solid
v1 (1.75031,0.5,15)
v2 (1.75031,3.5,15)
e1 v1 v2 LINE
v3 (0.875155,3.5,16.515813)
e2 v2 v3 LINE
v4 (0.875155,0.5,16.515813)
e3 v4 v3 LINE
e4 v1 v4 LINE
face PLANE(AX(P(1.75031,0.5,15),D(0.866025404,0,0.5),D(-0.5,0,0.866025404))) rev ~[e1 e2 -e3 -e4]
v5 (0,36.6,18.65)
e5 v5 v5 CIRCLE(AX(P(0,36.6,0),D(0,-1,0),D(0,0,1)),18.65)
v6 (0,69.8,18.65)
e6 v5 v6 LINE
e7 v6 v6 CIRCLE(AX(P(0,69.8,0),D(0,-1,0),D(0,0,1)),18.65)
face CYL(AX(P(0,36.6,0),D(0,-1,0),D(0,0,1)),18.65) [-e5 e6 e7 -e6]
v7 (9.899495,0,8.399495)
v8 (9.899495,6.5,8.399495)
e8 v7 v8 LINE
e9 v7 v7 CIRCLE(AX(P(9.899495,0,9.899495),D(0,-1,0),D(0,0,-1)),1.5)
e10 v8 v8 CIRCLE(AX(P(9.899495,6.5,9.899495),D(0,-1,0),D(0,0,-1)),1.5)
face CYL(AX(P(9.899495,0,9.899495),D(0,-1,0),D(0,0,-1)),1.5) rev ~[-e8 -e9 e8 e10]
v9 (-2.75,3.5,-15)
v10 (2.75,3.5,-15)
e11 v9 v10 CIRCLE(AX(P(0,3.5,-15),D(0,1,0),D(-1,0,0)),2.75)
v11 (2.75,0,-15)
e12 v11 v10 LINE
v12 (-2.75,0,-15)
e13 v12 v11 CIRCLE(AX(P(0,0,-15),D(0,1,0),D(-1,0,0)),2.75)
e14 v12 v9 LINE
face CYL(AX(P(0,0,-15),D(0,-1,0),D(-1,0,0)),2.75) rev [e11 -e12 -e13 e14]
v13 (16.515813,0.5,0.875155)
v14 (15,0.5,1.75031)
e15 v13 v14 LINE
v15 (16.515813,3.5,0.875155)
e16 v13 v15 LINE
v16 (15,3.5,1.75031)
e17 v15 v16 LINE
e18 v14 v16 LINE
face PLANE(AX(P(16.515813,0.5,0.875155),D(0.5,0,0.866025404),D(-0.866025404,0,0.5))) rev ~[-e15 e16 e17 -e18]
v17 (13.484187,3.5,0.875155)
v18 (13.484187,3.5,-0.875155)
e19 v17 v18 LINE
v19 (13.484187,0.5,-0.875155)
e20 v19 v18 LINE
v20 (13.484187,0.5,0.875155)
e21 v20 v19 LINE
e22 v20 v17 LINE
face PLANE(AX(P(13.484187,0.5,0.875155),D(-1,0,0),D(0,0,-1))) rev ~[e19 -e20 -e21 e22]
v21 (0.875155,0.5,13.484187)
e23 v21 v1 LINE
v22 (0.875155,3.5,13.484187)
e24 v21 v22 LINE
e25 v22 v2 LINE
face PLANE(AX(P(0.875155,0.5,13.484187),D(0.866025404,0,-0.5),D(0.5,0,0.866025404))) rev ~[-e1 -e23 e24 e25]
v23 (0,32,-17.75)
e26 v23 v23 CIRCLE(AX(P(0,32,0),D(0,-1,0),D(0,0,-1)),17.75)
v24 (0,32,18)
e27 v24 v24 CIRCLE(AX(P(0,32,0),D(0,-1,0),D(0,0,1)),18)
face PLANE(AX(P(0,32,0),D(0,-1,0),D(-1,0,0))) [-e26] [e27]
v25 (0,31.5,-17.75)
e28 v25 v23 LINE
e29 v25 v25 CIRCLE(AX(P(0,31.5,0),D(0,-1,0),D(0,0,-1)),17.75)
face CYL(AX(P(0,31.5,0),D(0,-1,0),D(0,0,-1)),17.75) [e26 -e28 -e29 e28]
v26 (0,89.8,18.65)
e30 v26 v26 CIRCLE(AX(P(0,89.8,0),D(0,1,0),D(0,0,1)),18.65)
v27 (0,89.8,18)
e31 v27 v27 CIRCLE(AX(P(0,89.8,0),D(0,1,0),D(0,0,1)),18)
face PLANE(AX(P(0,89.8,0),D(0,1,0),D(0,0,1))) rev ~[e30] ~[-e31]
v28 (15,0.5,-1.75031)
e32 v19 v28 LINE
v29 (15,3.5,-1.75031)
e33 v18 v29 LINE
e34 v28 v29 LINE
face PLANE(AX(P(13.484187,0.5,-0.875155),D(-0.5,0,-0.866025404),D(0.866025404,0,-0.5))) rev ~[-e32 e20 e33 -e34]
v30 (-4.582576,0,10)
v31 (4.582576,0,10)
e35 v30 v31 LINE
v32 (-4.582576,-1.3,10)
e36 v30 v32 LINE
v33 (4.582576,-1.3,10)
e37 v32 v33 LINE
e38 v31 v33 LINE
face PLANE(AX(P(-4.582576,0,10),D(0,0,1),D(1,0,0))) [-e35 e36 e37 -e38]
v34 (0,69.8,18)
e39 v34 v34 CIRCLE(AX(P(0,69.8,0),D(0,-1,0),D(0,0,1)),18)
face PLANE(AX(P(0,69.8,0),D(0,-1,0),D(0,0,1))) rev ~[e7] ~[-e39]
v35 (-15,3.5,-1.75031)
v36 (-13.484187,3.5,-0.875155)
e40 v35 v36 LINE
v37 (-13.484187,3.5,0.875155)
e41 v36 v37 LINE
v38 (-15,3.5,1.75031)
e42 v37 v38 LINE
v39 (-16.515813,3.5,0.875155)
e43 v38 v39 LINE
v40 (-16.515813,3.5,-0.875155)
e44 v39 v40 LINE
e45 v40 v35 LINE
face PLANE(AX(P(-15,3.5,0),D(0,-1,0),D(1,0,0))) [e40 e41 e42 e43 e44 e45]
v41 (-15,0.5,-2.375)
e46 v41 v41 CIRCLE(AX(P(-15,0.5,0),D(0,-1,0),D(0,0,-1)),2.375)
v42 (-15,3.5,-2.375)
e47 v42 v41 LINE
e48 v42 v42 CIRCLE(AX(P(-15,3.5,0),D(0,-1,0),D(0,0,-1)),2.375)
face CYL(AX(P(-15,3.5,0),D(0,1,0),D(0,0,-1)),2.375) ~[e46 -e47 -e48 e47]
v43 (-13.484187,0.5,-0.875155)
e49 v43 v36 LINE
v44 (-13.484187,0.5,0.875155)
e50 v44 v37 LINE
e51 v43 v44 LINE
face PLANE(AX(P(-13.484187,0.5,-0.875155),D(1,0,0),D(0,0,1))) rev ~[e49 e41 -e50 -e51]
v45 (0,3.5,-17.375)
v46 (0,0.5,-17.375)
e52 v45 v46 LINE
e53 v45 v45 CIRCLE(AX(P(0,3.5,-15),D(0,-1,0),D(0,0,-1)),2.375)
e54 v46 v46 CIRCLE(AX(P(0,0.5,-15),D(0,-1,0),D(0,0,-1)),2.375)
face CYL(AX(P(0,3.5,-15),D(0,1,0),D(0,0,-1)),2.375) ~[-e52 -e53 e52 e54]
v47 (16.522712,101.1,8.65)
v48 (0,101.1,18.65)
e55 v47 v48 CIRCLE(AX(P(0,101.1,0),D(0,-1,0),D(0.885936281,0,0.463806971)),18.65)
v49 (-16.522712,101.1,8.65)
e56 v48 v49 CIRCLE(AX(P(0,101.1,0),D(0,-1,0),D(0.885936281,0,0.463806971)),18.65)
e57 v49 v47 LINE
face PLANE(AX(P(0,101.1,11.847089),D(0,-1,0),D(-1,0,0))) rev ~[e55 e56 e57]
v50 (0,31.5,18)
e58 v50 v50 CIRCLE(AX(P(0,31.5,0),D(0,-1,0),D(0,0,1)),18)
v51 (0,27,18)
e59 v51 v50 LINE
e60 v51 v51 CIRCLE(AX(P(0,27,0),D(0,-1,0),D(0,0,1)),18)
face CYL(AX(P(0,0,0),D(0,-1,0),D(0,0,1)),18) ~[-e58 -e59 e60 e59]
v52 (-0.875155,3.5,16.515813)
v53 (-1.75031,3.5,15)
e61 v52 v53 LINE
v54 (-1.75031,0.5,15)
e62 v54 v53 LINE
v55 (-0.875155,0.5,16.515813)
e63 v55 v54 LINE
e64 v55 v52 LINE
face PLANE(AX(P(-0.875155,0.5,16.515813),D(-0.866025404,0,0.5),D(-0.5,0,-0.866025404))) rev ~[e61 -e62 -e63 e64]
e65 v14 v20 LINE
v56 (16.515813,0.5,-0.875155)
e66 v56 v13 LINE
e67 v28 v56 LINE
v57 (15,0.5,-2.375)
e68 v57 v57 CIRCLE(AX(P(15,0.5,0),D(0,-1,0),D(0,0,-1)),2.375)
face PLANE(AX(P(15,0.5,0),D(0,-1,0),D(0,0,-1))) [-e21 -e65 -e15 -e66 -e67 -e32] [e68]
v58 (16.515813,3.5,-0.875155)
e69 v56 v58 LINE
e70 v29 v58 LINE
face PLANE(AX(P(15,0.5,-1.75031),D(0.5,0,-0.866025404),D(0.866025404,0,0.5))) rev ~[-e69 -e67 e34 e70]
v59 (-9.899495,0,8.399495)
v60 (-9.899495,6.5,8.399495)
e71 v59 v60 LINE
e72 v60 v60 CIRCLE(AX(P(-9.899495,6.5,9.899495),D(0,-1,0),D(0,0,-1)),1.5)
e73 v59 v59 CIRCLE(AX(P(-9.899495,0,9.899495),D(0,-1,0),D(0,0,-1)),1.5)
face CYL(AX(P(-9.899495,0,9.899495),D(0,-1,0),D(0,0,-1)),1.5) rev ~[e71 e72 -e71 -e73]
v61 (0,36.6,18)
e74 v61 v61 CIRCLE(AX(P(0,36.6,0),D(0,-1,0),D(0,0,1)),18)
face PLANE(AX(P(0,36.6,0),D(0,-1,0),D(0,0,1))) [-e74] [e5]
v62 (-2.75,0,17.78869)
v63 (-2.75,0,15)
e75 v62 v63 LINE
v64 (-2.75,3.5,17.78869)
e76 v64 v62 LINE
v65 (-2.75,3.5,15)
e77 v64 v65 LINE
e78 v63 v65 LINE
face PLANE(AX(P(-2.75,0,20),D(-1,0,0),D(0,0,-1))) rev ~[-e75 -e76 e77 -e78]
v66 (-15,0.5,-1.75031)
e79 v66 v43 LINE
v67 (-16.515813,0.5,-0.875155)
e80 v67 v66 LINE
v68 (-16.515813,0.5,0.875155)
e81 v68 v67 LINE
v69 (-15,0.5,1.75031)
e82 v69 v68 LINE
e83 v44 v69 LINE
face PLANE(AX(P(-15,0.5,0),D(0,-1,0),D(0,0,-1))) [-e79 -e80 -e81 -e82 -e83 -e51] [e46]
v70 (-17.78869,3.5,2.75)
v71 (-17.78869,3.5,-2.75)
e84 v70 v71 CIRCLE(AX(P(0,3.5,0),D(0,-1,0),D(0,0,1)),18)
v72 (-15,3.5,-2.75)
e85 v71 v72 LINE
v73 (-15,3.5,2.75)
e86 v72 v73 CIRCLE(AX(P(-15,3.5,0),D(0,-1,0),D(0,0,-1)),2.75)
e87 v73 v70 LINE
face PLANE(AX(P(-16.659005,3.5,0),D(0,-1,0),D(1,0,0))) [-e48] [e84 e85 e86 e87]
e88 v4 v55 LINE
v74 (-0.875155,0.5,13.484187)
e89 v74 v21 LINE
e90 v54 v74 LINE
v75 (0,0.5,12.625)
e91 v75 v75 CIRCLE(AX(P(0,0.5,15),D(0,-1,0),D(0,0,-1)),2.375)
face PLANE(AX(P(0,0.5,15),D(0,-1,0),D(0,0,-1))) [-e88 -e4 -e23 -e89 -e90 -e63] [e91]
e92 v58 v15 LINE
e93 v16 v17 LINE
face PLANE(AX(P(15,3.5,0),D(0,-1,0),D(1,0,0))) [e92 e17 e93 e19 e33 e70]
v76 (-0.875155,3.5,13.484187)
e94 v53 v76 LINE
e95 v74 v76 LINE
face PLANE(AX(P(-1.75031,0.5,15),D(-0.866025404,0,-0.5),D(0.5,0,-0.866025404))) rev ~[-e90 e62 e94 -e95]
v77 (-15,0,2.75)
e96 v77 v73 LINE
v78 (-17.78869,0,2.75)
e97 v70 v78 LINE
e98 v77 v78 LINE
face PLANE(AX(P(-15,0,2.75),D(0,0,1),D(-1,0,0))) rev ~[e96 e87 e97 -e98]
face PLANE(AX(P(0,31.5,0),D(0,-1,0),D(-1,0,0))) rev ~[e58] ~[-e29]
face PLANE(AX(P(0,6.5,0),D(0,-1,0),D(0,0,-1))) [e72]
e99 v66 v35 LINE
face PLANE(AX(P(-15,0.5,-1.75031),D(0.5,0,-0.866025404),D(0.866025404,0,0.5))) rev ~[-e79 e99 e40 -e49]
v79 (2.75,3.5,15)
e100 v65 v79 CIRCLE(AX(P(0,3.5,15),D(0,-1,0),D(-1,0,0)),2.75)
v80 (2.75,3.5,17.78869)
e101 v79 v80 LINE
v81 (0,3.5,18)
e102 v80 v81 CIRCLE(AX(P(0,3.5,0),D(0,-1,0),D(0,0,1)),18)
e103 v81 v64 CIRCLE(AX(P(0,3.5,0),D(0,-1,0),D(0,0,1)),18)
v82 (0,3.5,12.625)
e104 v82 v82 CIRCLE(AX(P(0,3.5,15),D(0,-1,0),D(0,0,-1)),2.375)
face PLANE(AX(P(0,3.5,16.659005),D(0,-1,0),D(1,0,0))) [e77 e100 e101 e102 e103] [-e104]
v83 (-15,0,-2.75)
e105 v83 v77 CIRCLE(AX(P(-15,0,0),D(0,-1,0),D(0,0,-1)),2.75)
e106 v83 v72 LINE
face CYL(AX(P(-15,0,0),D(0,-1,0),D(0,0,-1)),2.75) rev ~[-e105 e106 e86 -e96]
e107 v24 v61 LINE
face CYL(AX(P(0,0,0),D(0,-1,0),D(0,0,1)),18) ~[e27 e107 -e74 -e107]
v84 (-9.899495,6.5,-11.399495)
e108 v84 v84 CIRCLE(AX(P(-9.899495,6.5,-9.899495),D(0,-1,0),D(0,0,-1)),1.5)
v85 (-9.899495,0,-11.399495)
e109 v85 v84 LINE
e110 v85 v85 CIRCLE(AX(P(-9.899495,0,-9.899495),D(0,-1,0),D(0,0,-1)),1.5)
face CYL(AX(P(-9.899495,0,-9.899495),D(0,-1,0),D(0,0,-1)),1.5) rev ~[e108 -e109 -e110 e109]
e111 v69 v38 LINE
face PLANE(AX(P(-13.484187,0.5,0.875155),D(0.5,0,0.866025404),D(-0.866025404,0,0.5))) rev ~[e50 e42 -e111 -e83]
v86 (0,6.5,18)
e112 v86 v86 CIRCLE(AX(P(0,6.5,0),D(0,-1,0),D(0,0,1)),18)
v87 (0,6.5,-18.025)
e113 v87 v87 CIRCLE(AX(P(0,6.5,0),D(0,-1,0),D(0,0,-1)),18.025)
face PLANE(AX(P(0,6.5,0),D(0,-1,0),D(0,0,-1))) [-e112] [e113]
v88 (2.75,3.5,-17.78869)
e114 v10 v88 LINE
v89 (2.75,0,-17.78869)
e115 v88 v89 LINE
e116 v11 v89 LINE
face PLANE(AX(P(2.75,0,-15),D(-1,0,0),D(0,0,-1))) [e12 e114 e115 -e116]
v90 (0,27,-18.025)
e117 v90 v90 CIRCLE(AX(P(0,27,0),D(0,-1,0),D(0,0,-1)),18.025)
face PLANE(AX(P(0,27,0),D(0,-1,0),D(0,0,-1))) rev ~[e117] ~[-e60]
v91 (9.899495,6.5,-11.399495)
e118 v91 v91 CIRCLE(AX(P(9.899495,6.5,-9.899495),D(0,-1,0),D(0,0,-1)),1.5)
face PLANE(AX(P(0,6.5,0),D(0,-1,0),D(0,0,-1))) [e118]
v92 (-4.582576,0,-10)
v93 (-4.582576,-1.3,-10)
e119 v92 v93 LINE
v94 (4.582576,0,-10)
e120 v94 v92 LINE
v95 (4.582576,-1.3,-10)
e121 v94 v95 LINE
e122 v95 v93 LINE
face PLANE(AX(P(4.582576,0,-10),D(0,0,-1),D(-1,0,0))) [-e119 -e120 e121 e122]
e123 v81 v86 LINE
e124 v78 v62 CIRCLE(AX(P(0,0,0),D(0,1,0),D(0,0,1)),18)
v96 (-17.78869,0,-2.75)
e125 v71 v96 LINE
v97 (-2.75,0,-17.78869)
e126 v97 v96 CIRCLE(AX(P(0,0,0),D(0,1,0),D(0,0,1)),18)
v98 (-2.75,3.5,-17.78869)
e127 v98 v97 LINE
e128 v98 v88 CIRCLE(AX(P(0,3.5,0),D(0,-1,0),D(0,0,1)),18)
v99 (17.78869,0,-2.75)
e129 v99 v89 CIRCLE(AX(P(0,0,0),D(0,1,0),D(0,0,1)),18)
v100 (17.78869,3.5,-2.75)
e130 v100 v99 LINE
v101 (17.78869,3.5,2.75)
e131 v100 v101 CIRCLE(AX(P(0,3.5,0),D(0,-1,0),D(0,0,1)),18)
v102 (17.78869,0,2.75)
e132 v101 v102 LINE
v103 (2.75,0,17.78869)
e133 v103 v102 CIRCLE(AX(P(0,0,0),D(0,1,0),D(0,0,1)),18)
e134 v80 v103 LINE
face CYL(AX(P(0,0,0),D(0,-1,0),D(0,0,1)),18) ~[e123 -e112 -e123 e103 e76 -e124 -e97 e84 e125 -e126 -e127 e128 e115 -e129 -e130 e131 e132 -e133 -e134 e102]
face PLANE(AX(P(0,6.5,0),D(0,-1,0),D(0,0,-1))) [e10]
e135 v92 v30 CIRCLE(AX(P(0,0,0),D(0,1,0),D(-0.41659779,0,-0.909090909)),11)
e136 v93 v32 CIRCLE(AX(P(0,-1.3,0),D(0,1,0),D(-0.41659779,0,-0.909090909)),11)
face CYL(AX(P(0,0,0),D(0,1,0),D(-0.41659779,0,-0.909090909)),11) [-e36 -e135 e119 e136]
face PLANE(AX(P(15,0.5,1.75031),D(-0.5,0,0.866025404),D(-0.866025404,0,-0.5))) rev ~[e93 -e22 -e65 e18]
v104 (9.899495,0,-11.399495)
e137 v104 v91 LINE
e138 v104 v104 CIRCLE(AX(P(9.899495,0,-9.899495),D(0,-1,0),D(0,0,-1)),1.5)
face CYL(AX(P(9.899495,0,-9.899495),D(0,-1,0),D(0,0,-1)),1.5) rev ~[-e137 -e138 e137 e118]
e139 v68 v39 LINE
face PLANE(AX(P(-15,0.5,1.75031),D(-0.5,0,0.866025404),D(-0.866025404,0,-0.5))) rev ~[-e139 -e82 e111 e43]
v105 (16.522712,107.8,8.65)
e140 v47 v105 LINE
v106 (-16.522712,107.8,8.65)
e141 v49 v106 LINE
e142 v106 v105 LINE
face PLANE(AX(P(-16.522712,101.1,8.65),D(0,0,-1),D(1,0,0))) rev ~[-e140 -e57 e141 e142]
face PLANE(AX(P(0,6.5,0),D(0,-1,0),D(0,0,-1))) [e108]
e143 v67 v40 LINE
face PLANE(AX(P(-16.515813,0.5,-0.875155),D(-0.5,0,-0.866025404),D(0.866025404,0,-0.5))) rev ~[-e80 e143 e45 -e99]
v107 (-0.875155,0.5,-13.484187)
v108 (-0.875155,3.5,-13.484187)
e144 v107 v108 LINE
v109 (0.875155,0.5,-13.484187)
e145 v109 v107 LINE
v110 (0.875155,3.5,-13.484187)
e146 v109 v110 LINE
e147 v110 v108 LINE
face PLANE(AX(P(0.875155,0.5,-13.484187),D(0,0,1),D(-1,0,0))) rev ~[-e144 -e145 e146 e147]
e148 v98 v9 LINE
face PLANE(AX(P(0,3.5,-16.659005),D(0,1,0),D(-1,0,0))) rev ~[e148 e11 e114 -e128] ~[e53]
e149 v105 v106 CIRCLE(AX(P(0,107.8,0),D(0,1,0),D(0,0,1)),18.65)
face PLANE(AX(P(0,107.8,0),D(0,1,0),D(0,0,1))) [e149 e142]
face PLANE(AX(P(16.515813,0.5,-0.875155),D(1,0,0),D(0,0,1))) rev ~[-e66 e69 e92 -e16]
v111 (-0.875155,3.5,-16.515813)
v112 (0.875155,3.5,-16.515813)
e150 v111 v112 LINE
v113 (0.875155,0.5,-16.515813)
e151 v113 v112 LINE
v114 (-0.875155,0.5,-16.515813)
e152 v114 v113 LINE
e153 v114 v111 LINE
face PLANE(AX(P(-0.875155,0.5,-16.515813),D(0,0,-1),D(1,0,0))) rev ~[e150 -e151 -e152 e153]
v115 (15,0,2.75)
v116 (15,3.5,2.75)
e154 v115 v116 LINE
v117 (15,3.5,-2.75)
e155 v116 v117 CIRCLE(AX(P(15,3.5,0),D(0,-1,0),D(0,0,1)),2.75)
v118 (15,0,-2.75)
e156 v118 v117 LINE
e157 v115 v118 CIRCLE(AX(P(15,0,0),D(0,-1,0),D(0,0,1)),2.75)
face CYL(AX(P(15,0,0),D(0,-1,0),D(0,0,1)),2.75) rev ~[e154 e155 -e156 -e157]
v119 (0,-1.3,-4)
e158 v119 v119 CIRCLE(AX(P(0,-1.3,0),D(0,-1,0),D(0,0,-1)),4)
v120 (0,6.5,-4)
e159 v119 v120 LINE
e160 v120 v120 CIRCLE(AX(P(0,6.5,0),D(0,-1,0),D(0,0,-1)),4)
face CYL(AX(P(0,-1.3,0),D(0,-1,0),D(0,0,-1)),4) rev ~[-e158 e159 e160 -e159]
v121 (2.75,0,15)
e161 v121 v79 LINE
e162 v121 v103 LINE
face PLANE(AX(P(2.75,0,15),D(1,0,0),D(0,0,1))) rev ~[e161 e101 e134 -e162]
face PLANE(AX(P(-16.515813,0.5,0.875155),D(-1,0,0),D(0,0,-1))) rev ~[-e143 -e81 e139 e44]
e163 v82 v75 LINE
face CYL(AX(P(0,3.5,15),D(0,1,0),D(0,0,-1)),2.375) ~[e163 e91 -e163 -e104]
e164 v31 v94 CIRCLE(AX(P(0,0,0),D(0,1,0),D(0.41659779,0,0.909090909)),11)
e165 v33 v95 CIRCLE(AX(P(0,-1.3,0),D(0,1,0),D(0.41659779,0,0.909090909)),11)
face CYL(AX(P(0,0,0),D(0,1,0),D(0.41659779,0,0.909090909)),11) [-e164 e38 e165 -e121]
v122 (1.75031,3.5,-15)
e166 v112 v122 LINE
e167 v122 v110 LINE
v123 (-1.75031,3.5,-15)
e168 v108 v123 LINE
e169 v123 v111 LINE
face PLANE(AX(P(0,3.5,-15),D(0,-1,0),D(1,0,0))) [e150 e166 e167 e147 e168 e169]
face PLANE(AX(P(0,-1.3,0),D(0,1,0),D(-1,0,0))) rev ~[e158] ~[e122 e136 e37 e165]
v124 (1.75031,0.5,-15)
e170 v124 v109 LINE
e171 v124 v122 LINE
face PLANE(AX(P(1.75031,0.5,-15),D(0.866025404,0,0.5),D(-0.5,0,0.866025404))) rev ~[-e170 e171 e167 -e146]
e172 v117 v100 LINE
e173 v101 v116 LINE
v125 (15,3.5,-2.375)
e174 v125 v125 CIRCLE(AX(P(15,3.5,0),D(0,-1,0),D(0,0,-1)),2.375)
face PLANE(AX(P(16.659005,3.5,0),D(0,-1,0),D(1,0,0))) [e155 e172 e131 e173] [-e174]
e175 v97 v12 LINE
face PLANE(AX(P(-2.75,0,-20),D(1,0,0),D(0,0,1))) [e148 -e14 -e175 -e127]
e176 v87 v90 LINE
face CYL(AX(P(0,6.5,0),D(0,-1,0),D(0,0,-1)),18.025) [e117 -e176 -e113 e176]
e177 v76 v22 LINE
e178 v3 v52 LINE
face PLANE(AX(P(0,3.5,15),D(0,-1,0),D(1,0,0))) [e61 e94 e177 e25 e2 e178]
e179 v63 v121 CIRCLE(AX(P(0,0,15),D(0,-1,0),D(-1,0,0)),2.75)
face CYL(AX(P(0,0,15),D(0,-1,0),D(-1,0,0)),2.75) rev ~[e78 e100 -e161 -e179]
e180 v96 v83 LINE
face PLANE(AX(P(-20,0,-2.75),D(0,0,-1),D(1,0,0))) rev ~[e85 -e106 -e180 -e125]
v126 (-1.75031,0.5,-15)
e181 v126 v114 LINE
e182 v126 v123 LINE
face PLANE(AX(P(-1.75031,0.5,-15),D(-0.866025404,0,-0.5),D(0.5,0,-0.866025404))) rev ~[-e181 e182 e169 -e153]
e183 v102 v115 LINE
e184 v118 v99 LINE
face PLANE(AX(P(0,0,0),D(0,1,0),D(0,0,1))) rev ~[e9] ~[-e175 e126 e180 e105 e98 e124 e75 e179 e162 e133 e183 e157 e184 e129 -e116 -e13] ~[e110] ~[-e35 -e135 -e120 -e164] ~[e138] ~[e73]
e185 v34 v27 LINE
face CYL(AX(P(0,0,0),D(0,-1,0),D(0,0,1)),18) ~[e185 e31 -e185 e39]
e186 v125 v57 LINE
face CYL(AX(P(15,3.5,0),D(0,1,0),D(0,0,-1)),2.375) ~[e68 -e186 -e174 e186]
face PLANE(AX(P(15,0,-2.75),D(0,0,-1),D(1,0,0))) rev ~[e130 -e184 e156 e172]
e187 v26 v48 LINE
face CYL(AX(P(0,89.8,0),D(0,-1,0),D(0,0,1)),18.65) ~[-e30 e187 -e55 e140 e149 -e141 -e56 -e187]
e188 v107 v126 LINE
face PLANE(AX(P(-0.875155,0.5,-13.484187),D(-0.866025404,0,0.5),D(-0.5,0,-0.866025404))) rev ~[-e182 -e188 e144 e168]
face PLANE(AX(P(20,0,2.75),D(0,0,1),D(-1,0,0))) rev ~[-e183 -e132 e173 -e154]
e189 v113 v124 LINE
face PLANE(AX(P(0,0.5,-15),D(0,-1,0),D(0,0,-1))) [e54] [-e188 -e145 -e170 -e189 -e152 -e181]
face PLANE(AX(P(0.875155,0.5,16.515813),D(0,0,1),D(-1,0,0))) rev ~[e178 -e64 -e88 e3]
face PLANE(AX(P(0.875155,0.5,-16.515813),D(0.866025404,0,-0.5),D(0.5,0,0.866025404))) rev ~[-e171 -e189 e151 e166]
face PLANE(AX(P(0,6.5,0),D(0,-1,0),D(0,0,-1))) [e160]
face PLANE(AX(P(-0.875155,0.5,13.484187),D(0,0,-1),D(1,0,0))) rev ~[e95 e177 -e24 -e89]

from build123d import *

# Parameters (mm, degrees)
SKETCH1_R           = 18
BOSS_EXTRUDE1_DEPTH = 89.8
SKETCH2_R           = 18.65
BOSS_EXTRUDE2_DEPTH = 18
BOSS_EXTRUDE4_DEPTH = 1.3
BOSS_EXTRUDE3_START = 33.2
SKETCH3_R           = 18.65
BOSS_EXTRUDE3_DEPTH = 33.2
SKETCH11_R          = 4
CUT_EXTRUDE1_DEPTH  = 10.3
CUT_EXTRUDE2_START  = -6.7
CUT_EXTRUDE2_DEPTH  = 6.7
SKETCH14_R          = 1.5
CUT_EXTRUDE3_DEPTH  = 10
SKETCH16_R          = 18.025
BOSS_EXTRUDE5_DEPTH = 20.5
SKETCH17_R          = 19.645678417
SKETCH17_R_2        = 17.75
CUT_EXTRUDE5_DEPTH  = 0.5
CUT_EXTRUDE6_DEPTH  = 3.5
SKETCH19_R          = 2.375
BOSS_EXTRUDE6_DEPTH = 3
CUT_EXTRUDE7_DEPTH  = 3


with BuildPart() as part:
    # Sketch1 → Boss-Extrude1 (new body)
    with BuildSketch(Plane(origin=(0, 0, 0), x_dir=(1, 0, 0), z_dir=(0, 1, 0))):
        with Locations(Location((0, 0, 0), (0, 0, 270))):
            Circle(SKETCH1_R)
    extrude(amount=BOSS_EXTRUDE1_DEPTH)

    # Sketch2 → Boss-Extrude2 (add)
    with BuildSketch(Plane(origin=(0, 89.8, 0), x_dir=(1, 0, 0), z_dir=(0, 1, 0))):
        with Locations(Location((0, 0, 0), (0, 0, 270))):
            Circle(SKETCH2_R)
    extrude(amount=BOSS_EXTRUDE2_DEPTH)

    # Sketch9 → Boss-Extrude4 (add)
    with BuildSketch(Plane.XZ):
        with BuildLine():
            Line((4.582575695, -10), (-4.582575695, -10))
            ThreePointArc((-4.582575695, -10), (-11, 0), (-4.582575695, 10))
            Line((-4.582575695, 10), (4.582575695, 10))
            ThreePointArc((4.582575695, 10), (11, 0), (4.582575695, -10))
        make_face()
    extrude(amount=BOSS_EXTRUDE4_DEPTH)

    # Sketch3 → Boss-Extrude3 (add)
    with BuildSketch(Plane(origin=(0, 69.8, 0), x_dir=(-1, 0, 0), z_dir=(0, -1, 0)).offset(BOSS_EXTRUDE3_START)):
        with Locations(Location((0, 0, 0), (0, 0, 270))):
            Circle(SKETCH3_R)
    extrude(amount=-BOSS_EXTRUDE3_DEPTH)

    # Sketch11 → Cut-Extrude1 (cut)
    with BuildSketch(Plane.XZ.offset(1.3)):
        with Locations(Location((0, 0, 0), (0, 0, 270))):
            Circle(SKETCH11_R)
    extrude(amount=-CUT_EXTRUDE1_DEPTH, mode=Mode.SUBTRACT)

    # Sketch13 → Cut-Extrude2 (cut)
    with BuildSketch(Plane(origin=(0, 107.8, 0), x_dir=(1, 0, 0), z_dir=(0, 1, 0)).offset(CUT_EXTRUDE2_START)):
        with BuildLine():
            Line((-16.522711642, -8.65), (16.522711642, -8.65))
            ThreePointArc((16.522711642, -8.65), (0, -18.65), (-16.522711642, -8.65))
        make_face()
    extrude(amount=CUT_EXTRUDE2_DEPTH, mode=Mode.SUBTRACT)

    # Sketch14 → Cut-Extrude3 (cut)
    with BuildSketch(Plane.XZ):
        with Locations(Location((-9.899494937, 9.899494937, 0), (0, 0, 270))):
            Circle(SKETCH14_R)
        with Locations(Location((9.899494937, 9.899494937, 0), (0, 0, 270))):
            Circle(SKETCH14_R)
        with Locations(Location((9.899494937, -9.899494937, 0), (0, 0, 270))):
            Circle(SKETCH14_R)
        with Locations(Location((-9.899494937, -9.899494937, 0), (0, 0, 270))):
            Circle(SKETCH14_R)
    extrude(amount=-CUT_EXTRUDE3_DEPTH, mode=Mode.SUBTRACT)

    # Sketch16 → Boss-Extrude5 (add)
    with BuildSketch(Plane(origin=(0, 6.5, 0), x_dir=(-1, 0, 0), z_dir=(0, -1, 0))):
        with Locations(Location((0, 0, 0), (0, 0, 90))):
            Circle(SKETCH16_R)
    extrude(amount=-BOSS_EXTRUDE5_DEPTH)

    # Sketch17 → Cut-Extrude5 (cut)
    with BuildSketch(Plane(origin=(0, 31.5, 0), x_dir=(-1, 0, 0), z_dir=(0, -1, 0))):
        Circle(SKETCH17_R)
        with Locations(Location((0, 0, 0), (0, 0, 90))):
            Circle(SKETCH17_R_2, mode=Mode.SUBTRACT)
    extrude(amount=-CUT_EXTRUDE5_DEPTH, mode=Mode.SUBTRACT)

    # Sketch18 → Cut-Extrude6 (cut)
    with BuildSketch(Plane.XZ):
        with BuildLine():
            Line((2.75, -15), (2.75, -20))
            Line((2.75, -20), (-2.75, -20))
            Line((-2.75, -20), (-2.75, -15))
            ThreePointArc((-2.75, -15), (0, -12.25), (2.75, -15))
        make_face()
        with BuildLine():
            Line((2.75, 15), (2.75, 20))
            Line((2.75, 20), (-2.75, 20))
            Line((-2.75, 20), (-2.75, 15))
            ThreePointArc((-2.75, 15), (0, 12.25), (2.75, 15))
        make_face()
        with BuildLine():
            Line((-15, 2.75), (-20, 2.75))
            Line((-20, 2.75), (-20, -2.75))
            Line((-20, -2.75), (-15, -2.75))
            ThreePointArc((-15, -2.75), (-12.25, 0), (-15, 2.75))
        make_face()
        with BuildLine():
            Line((15, -2.75), (20, -2.75))
            Line((20, -2.75), (20, 2.75))
            Line((20, 2.75), (15, 2.75))
            ThreePointArc((15, 2.75), (12.25, 0), (15, -2.75))
        make_face()
    extrude(amount=-CUT_EXTRUDE6_DEPTH, mode=Mode.SUBTRACT)

    # Sketch19 → Boss-Extrude6 (add)
    with BuildSketch(Plane.XZ.offset(-3.5)):
        with Locations(Location((-15, 0, 0), (0, 0, 270))):
            Circle(SKETCH19_R)
        with Locations(Location((0, 15, 0), (0, 0, 270))):
            Circle(SKETCH19_R)
        with Locations(Location((15, 0, 0), (0, 0, 270))):
            Circle(SKETCH19_R)
        with Locations(Location((0, -15, 0), (0, 0, 270))):
            Circle(SKETCH19_R)
    extrude(amount=BOSS_EXTRUDE6_DEPTH)

    # Sketch20 → Cut-Extrude7 (cut)
    with BuildSketch(Plane.XZ.offset(-0.5)):
        Polygon((16.515813069, 0.875155083), (15, 1.750310167), (13.484186931, 0.875155083), (13.484186931, -0.875155083), (15, -1.750310167), (16.515813069, -0.875155083), align=None)
        Polygon((-1.750310167, 15), (-0.875155083, 13.484186931), (0.875155083, 13.484186931), (1.750310167, 15), (0.875155083, 16.515813069), (-0.875155083, 16.515813069), align=None)
        Polygon((0.875155083, -16.515813069), (1.750310167, -15), (0.875155083, -13.484186931), (-0.875155083, -13.484186931), (-1.750310167, -15), (-0.875155083, -16.515813069), align=None)
        Polygon((-16.515813069, -0.875155083), (-15, -1.750310167), (-13.484186931, -0.875155083), (-13.484186931, 0.875155083), (-15, 1.750310167), (-16.515813069, 0.875155083), align=None)
    extrude(amount=-CUT_EXTRUDE7_DEPTH, mode=Mode.SUBTRACT)


solid = part.part
